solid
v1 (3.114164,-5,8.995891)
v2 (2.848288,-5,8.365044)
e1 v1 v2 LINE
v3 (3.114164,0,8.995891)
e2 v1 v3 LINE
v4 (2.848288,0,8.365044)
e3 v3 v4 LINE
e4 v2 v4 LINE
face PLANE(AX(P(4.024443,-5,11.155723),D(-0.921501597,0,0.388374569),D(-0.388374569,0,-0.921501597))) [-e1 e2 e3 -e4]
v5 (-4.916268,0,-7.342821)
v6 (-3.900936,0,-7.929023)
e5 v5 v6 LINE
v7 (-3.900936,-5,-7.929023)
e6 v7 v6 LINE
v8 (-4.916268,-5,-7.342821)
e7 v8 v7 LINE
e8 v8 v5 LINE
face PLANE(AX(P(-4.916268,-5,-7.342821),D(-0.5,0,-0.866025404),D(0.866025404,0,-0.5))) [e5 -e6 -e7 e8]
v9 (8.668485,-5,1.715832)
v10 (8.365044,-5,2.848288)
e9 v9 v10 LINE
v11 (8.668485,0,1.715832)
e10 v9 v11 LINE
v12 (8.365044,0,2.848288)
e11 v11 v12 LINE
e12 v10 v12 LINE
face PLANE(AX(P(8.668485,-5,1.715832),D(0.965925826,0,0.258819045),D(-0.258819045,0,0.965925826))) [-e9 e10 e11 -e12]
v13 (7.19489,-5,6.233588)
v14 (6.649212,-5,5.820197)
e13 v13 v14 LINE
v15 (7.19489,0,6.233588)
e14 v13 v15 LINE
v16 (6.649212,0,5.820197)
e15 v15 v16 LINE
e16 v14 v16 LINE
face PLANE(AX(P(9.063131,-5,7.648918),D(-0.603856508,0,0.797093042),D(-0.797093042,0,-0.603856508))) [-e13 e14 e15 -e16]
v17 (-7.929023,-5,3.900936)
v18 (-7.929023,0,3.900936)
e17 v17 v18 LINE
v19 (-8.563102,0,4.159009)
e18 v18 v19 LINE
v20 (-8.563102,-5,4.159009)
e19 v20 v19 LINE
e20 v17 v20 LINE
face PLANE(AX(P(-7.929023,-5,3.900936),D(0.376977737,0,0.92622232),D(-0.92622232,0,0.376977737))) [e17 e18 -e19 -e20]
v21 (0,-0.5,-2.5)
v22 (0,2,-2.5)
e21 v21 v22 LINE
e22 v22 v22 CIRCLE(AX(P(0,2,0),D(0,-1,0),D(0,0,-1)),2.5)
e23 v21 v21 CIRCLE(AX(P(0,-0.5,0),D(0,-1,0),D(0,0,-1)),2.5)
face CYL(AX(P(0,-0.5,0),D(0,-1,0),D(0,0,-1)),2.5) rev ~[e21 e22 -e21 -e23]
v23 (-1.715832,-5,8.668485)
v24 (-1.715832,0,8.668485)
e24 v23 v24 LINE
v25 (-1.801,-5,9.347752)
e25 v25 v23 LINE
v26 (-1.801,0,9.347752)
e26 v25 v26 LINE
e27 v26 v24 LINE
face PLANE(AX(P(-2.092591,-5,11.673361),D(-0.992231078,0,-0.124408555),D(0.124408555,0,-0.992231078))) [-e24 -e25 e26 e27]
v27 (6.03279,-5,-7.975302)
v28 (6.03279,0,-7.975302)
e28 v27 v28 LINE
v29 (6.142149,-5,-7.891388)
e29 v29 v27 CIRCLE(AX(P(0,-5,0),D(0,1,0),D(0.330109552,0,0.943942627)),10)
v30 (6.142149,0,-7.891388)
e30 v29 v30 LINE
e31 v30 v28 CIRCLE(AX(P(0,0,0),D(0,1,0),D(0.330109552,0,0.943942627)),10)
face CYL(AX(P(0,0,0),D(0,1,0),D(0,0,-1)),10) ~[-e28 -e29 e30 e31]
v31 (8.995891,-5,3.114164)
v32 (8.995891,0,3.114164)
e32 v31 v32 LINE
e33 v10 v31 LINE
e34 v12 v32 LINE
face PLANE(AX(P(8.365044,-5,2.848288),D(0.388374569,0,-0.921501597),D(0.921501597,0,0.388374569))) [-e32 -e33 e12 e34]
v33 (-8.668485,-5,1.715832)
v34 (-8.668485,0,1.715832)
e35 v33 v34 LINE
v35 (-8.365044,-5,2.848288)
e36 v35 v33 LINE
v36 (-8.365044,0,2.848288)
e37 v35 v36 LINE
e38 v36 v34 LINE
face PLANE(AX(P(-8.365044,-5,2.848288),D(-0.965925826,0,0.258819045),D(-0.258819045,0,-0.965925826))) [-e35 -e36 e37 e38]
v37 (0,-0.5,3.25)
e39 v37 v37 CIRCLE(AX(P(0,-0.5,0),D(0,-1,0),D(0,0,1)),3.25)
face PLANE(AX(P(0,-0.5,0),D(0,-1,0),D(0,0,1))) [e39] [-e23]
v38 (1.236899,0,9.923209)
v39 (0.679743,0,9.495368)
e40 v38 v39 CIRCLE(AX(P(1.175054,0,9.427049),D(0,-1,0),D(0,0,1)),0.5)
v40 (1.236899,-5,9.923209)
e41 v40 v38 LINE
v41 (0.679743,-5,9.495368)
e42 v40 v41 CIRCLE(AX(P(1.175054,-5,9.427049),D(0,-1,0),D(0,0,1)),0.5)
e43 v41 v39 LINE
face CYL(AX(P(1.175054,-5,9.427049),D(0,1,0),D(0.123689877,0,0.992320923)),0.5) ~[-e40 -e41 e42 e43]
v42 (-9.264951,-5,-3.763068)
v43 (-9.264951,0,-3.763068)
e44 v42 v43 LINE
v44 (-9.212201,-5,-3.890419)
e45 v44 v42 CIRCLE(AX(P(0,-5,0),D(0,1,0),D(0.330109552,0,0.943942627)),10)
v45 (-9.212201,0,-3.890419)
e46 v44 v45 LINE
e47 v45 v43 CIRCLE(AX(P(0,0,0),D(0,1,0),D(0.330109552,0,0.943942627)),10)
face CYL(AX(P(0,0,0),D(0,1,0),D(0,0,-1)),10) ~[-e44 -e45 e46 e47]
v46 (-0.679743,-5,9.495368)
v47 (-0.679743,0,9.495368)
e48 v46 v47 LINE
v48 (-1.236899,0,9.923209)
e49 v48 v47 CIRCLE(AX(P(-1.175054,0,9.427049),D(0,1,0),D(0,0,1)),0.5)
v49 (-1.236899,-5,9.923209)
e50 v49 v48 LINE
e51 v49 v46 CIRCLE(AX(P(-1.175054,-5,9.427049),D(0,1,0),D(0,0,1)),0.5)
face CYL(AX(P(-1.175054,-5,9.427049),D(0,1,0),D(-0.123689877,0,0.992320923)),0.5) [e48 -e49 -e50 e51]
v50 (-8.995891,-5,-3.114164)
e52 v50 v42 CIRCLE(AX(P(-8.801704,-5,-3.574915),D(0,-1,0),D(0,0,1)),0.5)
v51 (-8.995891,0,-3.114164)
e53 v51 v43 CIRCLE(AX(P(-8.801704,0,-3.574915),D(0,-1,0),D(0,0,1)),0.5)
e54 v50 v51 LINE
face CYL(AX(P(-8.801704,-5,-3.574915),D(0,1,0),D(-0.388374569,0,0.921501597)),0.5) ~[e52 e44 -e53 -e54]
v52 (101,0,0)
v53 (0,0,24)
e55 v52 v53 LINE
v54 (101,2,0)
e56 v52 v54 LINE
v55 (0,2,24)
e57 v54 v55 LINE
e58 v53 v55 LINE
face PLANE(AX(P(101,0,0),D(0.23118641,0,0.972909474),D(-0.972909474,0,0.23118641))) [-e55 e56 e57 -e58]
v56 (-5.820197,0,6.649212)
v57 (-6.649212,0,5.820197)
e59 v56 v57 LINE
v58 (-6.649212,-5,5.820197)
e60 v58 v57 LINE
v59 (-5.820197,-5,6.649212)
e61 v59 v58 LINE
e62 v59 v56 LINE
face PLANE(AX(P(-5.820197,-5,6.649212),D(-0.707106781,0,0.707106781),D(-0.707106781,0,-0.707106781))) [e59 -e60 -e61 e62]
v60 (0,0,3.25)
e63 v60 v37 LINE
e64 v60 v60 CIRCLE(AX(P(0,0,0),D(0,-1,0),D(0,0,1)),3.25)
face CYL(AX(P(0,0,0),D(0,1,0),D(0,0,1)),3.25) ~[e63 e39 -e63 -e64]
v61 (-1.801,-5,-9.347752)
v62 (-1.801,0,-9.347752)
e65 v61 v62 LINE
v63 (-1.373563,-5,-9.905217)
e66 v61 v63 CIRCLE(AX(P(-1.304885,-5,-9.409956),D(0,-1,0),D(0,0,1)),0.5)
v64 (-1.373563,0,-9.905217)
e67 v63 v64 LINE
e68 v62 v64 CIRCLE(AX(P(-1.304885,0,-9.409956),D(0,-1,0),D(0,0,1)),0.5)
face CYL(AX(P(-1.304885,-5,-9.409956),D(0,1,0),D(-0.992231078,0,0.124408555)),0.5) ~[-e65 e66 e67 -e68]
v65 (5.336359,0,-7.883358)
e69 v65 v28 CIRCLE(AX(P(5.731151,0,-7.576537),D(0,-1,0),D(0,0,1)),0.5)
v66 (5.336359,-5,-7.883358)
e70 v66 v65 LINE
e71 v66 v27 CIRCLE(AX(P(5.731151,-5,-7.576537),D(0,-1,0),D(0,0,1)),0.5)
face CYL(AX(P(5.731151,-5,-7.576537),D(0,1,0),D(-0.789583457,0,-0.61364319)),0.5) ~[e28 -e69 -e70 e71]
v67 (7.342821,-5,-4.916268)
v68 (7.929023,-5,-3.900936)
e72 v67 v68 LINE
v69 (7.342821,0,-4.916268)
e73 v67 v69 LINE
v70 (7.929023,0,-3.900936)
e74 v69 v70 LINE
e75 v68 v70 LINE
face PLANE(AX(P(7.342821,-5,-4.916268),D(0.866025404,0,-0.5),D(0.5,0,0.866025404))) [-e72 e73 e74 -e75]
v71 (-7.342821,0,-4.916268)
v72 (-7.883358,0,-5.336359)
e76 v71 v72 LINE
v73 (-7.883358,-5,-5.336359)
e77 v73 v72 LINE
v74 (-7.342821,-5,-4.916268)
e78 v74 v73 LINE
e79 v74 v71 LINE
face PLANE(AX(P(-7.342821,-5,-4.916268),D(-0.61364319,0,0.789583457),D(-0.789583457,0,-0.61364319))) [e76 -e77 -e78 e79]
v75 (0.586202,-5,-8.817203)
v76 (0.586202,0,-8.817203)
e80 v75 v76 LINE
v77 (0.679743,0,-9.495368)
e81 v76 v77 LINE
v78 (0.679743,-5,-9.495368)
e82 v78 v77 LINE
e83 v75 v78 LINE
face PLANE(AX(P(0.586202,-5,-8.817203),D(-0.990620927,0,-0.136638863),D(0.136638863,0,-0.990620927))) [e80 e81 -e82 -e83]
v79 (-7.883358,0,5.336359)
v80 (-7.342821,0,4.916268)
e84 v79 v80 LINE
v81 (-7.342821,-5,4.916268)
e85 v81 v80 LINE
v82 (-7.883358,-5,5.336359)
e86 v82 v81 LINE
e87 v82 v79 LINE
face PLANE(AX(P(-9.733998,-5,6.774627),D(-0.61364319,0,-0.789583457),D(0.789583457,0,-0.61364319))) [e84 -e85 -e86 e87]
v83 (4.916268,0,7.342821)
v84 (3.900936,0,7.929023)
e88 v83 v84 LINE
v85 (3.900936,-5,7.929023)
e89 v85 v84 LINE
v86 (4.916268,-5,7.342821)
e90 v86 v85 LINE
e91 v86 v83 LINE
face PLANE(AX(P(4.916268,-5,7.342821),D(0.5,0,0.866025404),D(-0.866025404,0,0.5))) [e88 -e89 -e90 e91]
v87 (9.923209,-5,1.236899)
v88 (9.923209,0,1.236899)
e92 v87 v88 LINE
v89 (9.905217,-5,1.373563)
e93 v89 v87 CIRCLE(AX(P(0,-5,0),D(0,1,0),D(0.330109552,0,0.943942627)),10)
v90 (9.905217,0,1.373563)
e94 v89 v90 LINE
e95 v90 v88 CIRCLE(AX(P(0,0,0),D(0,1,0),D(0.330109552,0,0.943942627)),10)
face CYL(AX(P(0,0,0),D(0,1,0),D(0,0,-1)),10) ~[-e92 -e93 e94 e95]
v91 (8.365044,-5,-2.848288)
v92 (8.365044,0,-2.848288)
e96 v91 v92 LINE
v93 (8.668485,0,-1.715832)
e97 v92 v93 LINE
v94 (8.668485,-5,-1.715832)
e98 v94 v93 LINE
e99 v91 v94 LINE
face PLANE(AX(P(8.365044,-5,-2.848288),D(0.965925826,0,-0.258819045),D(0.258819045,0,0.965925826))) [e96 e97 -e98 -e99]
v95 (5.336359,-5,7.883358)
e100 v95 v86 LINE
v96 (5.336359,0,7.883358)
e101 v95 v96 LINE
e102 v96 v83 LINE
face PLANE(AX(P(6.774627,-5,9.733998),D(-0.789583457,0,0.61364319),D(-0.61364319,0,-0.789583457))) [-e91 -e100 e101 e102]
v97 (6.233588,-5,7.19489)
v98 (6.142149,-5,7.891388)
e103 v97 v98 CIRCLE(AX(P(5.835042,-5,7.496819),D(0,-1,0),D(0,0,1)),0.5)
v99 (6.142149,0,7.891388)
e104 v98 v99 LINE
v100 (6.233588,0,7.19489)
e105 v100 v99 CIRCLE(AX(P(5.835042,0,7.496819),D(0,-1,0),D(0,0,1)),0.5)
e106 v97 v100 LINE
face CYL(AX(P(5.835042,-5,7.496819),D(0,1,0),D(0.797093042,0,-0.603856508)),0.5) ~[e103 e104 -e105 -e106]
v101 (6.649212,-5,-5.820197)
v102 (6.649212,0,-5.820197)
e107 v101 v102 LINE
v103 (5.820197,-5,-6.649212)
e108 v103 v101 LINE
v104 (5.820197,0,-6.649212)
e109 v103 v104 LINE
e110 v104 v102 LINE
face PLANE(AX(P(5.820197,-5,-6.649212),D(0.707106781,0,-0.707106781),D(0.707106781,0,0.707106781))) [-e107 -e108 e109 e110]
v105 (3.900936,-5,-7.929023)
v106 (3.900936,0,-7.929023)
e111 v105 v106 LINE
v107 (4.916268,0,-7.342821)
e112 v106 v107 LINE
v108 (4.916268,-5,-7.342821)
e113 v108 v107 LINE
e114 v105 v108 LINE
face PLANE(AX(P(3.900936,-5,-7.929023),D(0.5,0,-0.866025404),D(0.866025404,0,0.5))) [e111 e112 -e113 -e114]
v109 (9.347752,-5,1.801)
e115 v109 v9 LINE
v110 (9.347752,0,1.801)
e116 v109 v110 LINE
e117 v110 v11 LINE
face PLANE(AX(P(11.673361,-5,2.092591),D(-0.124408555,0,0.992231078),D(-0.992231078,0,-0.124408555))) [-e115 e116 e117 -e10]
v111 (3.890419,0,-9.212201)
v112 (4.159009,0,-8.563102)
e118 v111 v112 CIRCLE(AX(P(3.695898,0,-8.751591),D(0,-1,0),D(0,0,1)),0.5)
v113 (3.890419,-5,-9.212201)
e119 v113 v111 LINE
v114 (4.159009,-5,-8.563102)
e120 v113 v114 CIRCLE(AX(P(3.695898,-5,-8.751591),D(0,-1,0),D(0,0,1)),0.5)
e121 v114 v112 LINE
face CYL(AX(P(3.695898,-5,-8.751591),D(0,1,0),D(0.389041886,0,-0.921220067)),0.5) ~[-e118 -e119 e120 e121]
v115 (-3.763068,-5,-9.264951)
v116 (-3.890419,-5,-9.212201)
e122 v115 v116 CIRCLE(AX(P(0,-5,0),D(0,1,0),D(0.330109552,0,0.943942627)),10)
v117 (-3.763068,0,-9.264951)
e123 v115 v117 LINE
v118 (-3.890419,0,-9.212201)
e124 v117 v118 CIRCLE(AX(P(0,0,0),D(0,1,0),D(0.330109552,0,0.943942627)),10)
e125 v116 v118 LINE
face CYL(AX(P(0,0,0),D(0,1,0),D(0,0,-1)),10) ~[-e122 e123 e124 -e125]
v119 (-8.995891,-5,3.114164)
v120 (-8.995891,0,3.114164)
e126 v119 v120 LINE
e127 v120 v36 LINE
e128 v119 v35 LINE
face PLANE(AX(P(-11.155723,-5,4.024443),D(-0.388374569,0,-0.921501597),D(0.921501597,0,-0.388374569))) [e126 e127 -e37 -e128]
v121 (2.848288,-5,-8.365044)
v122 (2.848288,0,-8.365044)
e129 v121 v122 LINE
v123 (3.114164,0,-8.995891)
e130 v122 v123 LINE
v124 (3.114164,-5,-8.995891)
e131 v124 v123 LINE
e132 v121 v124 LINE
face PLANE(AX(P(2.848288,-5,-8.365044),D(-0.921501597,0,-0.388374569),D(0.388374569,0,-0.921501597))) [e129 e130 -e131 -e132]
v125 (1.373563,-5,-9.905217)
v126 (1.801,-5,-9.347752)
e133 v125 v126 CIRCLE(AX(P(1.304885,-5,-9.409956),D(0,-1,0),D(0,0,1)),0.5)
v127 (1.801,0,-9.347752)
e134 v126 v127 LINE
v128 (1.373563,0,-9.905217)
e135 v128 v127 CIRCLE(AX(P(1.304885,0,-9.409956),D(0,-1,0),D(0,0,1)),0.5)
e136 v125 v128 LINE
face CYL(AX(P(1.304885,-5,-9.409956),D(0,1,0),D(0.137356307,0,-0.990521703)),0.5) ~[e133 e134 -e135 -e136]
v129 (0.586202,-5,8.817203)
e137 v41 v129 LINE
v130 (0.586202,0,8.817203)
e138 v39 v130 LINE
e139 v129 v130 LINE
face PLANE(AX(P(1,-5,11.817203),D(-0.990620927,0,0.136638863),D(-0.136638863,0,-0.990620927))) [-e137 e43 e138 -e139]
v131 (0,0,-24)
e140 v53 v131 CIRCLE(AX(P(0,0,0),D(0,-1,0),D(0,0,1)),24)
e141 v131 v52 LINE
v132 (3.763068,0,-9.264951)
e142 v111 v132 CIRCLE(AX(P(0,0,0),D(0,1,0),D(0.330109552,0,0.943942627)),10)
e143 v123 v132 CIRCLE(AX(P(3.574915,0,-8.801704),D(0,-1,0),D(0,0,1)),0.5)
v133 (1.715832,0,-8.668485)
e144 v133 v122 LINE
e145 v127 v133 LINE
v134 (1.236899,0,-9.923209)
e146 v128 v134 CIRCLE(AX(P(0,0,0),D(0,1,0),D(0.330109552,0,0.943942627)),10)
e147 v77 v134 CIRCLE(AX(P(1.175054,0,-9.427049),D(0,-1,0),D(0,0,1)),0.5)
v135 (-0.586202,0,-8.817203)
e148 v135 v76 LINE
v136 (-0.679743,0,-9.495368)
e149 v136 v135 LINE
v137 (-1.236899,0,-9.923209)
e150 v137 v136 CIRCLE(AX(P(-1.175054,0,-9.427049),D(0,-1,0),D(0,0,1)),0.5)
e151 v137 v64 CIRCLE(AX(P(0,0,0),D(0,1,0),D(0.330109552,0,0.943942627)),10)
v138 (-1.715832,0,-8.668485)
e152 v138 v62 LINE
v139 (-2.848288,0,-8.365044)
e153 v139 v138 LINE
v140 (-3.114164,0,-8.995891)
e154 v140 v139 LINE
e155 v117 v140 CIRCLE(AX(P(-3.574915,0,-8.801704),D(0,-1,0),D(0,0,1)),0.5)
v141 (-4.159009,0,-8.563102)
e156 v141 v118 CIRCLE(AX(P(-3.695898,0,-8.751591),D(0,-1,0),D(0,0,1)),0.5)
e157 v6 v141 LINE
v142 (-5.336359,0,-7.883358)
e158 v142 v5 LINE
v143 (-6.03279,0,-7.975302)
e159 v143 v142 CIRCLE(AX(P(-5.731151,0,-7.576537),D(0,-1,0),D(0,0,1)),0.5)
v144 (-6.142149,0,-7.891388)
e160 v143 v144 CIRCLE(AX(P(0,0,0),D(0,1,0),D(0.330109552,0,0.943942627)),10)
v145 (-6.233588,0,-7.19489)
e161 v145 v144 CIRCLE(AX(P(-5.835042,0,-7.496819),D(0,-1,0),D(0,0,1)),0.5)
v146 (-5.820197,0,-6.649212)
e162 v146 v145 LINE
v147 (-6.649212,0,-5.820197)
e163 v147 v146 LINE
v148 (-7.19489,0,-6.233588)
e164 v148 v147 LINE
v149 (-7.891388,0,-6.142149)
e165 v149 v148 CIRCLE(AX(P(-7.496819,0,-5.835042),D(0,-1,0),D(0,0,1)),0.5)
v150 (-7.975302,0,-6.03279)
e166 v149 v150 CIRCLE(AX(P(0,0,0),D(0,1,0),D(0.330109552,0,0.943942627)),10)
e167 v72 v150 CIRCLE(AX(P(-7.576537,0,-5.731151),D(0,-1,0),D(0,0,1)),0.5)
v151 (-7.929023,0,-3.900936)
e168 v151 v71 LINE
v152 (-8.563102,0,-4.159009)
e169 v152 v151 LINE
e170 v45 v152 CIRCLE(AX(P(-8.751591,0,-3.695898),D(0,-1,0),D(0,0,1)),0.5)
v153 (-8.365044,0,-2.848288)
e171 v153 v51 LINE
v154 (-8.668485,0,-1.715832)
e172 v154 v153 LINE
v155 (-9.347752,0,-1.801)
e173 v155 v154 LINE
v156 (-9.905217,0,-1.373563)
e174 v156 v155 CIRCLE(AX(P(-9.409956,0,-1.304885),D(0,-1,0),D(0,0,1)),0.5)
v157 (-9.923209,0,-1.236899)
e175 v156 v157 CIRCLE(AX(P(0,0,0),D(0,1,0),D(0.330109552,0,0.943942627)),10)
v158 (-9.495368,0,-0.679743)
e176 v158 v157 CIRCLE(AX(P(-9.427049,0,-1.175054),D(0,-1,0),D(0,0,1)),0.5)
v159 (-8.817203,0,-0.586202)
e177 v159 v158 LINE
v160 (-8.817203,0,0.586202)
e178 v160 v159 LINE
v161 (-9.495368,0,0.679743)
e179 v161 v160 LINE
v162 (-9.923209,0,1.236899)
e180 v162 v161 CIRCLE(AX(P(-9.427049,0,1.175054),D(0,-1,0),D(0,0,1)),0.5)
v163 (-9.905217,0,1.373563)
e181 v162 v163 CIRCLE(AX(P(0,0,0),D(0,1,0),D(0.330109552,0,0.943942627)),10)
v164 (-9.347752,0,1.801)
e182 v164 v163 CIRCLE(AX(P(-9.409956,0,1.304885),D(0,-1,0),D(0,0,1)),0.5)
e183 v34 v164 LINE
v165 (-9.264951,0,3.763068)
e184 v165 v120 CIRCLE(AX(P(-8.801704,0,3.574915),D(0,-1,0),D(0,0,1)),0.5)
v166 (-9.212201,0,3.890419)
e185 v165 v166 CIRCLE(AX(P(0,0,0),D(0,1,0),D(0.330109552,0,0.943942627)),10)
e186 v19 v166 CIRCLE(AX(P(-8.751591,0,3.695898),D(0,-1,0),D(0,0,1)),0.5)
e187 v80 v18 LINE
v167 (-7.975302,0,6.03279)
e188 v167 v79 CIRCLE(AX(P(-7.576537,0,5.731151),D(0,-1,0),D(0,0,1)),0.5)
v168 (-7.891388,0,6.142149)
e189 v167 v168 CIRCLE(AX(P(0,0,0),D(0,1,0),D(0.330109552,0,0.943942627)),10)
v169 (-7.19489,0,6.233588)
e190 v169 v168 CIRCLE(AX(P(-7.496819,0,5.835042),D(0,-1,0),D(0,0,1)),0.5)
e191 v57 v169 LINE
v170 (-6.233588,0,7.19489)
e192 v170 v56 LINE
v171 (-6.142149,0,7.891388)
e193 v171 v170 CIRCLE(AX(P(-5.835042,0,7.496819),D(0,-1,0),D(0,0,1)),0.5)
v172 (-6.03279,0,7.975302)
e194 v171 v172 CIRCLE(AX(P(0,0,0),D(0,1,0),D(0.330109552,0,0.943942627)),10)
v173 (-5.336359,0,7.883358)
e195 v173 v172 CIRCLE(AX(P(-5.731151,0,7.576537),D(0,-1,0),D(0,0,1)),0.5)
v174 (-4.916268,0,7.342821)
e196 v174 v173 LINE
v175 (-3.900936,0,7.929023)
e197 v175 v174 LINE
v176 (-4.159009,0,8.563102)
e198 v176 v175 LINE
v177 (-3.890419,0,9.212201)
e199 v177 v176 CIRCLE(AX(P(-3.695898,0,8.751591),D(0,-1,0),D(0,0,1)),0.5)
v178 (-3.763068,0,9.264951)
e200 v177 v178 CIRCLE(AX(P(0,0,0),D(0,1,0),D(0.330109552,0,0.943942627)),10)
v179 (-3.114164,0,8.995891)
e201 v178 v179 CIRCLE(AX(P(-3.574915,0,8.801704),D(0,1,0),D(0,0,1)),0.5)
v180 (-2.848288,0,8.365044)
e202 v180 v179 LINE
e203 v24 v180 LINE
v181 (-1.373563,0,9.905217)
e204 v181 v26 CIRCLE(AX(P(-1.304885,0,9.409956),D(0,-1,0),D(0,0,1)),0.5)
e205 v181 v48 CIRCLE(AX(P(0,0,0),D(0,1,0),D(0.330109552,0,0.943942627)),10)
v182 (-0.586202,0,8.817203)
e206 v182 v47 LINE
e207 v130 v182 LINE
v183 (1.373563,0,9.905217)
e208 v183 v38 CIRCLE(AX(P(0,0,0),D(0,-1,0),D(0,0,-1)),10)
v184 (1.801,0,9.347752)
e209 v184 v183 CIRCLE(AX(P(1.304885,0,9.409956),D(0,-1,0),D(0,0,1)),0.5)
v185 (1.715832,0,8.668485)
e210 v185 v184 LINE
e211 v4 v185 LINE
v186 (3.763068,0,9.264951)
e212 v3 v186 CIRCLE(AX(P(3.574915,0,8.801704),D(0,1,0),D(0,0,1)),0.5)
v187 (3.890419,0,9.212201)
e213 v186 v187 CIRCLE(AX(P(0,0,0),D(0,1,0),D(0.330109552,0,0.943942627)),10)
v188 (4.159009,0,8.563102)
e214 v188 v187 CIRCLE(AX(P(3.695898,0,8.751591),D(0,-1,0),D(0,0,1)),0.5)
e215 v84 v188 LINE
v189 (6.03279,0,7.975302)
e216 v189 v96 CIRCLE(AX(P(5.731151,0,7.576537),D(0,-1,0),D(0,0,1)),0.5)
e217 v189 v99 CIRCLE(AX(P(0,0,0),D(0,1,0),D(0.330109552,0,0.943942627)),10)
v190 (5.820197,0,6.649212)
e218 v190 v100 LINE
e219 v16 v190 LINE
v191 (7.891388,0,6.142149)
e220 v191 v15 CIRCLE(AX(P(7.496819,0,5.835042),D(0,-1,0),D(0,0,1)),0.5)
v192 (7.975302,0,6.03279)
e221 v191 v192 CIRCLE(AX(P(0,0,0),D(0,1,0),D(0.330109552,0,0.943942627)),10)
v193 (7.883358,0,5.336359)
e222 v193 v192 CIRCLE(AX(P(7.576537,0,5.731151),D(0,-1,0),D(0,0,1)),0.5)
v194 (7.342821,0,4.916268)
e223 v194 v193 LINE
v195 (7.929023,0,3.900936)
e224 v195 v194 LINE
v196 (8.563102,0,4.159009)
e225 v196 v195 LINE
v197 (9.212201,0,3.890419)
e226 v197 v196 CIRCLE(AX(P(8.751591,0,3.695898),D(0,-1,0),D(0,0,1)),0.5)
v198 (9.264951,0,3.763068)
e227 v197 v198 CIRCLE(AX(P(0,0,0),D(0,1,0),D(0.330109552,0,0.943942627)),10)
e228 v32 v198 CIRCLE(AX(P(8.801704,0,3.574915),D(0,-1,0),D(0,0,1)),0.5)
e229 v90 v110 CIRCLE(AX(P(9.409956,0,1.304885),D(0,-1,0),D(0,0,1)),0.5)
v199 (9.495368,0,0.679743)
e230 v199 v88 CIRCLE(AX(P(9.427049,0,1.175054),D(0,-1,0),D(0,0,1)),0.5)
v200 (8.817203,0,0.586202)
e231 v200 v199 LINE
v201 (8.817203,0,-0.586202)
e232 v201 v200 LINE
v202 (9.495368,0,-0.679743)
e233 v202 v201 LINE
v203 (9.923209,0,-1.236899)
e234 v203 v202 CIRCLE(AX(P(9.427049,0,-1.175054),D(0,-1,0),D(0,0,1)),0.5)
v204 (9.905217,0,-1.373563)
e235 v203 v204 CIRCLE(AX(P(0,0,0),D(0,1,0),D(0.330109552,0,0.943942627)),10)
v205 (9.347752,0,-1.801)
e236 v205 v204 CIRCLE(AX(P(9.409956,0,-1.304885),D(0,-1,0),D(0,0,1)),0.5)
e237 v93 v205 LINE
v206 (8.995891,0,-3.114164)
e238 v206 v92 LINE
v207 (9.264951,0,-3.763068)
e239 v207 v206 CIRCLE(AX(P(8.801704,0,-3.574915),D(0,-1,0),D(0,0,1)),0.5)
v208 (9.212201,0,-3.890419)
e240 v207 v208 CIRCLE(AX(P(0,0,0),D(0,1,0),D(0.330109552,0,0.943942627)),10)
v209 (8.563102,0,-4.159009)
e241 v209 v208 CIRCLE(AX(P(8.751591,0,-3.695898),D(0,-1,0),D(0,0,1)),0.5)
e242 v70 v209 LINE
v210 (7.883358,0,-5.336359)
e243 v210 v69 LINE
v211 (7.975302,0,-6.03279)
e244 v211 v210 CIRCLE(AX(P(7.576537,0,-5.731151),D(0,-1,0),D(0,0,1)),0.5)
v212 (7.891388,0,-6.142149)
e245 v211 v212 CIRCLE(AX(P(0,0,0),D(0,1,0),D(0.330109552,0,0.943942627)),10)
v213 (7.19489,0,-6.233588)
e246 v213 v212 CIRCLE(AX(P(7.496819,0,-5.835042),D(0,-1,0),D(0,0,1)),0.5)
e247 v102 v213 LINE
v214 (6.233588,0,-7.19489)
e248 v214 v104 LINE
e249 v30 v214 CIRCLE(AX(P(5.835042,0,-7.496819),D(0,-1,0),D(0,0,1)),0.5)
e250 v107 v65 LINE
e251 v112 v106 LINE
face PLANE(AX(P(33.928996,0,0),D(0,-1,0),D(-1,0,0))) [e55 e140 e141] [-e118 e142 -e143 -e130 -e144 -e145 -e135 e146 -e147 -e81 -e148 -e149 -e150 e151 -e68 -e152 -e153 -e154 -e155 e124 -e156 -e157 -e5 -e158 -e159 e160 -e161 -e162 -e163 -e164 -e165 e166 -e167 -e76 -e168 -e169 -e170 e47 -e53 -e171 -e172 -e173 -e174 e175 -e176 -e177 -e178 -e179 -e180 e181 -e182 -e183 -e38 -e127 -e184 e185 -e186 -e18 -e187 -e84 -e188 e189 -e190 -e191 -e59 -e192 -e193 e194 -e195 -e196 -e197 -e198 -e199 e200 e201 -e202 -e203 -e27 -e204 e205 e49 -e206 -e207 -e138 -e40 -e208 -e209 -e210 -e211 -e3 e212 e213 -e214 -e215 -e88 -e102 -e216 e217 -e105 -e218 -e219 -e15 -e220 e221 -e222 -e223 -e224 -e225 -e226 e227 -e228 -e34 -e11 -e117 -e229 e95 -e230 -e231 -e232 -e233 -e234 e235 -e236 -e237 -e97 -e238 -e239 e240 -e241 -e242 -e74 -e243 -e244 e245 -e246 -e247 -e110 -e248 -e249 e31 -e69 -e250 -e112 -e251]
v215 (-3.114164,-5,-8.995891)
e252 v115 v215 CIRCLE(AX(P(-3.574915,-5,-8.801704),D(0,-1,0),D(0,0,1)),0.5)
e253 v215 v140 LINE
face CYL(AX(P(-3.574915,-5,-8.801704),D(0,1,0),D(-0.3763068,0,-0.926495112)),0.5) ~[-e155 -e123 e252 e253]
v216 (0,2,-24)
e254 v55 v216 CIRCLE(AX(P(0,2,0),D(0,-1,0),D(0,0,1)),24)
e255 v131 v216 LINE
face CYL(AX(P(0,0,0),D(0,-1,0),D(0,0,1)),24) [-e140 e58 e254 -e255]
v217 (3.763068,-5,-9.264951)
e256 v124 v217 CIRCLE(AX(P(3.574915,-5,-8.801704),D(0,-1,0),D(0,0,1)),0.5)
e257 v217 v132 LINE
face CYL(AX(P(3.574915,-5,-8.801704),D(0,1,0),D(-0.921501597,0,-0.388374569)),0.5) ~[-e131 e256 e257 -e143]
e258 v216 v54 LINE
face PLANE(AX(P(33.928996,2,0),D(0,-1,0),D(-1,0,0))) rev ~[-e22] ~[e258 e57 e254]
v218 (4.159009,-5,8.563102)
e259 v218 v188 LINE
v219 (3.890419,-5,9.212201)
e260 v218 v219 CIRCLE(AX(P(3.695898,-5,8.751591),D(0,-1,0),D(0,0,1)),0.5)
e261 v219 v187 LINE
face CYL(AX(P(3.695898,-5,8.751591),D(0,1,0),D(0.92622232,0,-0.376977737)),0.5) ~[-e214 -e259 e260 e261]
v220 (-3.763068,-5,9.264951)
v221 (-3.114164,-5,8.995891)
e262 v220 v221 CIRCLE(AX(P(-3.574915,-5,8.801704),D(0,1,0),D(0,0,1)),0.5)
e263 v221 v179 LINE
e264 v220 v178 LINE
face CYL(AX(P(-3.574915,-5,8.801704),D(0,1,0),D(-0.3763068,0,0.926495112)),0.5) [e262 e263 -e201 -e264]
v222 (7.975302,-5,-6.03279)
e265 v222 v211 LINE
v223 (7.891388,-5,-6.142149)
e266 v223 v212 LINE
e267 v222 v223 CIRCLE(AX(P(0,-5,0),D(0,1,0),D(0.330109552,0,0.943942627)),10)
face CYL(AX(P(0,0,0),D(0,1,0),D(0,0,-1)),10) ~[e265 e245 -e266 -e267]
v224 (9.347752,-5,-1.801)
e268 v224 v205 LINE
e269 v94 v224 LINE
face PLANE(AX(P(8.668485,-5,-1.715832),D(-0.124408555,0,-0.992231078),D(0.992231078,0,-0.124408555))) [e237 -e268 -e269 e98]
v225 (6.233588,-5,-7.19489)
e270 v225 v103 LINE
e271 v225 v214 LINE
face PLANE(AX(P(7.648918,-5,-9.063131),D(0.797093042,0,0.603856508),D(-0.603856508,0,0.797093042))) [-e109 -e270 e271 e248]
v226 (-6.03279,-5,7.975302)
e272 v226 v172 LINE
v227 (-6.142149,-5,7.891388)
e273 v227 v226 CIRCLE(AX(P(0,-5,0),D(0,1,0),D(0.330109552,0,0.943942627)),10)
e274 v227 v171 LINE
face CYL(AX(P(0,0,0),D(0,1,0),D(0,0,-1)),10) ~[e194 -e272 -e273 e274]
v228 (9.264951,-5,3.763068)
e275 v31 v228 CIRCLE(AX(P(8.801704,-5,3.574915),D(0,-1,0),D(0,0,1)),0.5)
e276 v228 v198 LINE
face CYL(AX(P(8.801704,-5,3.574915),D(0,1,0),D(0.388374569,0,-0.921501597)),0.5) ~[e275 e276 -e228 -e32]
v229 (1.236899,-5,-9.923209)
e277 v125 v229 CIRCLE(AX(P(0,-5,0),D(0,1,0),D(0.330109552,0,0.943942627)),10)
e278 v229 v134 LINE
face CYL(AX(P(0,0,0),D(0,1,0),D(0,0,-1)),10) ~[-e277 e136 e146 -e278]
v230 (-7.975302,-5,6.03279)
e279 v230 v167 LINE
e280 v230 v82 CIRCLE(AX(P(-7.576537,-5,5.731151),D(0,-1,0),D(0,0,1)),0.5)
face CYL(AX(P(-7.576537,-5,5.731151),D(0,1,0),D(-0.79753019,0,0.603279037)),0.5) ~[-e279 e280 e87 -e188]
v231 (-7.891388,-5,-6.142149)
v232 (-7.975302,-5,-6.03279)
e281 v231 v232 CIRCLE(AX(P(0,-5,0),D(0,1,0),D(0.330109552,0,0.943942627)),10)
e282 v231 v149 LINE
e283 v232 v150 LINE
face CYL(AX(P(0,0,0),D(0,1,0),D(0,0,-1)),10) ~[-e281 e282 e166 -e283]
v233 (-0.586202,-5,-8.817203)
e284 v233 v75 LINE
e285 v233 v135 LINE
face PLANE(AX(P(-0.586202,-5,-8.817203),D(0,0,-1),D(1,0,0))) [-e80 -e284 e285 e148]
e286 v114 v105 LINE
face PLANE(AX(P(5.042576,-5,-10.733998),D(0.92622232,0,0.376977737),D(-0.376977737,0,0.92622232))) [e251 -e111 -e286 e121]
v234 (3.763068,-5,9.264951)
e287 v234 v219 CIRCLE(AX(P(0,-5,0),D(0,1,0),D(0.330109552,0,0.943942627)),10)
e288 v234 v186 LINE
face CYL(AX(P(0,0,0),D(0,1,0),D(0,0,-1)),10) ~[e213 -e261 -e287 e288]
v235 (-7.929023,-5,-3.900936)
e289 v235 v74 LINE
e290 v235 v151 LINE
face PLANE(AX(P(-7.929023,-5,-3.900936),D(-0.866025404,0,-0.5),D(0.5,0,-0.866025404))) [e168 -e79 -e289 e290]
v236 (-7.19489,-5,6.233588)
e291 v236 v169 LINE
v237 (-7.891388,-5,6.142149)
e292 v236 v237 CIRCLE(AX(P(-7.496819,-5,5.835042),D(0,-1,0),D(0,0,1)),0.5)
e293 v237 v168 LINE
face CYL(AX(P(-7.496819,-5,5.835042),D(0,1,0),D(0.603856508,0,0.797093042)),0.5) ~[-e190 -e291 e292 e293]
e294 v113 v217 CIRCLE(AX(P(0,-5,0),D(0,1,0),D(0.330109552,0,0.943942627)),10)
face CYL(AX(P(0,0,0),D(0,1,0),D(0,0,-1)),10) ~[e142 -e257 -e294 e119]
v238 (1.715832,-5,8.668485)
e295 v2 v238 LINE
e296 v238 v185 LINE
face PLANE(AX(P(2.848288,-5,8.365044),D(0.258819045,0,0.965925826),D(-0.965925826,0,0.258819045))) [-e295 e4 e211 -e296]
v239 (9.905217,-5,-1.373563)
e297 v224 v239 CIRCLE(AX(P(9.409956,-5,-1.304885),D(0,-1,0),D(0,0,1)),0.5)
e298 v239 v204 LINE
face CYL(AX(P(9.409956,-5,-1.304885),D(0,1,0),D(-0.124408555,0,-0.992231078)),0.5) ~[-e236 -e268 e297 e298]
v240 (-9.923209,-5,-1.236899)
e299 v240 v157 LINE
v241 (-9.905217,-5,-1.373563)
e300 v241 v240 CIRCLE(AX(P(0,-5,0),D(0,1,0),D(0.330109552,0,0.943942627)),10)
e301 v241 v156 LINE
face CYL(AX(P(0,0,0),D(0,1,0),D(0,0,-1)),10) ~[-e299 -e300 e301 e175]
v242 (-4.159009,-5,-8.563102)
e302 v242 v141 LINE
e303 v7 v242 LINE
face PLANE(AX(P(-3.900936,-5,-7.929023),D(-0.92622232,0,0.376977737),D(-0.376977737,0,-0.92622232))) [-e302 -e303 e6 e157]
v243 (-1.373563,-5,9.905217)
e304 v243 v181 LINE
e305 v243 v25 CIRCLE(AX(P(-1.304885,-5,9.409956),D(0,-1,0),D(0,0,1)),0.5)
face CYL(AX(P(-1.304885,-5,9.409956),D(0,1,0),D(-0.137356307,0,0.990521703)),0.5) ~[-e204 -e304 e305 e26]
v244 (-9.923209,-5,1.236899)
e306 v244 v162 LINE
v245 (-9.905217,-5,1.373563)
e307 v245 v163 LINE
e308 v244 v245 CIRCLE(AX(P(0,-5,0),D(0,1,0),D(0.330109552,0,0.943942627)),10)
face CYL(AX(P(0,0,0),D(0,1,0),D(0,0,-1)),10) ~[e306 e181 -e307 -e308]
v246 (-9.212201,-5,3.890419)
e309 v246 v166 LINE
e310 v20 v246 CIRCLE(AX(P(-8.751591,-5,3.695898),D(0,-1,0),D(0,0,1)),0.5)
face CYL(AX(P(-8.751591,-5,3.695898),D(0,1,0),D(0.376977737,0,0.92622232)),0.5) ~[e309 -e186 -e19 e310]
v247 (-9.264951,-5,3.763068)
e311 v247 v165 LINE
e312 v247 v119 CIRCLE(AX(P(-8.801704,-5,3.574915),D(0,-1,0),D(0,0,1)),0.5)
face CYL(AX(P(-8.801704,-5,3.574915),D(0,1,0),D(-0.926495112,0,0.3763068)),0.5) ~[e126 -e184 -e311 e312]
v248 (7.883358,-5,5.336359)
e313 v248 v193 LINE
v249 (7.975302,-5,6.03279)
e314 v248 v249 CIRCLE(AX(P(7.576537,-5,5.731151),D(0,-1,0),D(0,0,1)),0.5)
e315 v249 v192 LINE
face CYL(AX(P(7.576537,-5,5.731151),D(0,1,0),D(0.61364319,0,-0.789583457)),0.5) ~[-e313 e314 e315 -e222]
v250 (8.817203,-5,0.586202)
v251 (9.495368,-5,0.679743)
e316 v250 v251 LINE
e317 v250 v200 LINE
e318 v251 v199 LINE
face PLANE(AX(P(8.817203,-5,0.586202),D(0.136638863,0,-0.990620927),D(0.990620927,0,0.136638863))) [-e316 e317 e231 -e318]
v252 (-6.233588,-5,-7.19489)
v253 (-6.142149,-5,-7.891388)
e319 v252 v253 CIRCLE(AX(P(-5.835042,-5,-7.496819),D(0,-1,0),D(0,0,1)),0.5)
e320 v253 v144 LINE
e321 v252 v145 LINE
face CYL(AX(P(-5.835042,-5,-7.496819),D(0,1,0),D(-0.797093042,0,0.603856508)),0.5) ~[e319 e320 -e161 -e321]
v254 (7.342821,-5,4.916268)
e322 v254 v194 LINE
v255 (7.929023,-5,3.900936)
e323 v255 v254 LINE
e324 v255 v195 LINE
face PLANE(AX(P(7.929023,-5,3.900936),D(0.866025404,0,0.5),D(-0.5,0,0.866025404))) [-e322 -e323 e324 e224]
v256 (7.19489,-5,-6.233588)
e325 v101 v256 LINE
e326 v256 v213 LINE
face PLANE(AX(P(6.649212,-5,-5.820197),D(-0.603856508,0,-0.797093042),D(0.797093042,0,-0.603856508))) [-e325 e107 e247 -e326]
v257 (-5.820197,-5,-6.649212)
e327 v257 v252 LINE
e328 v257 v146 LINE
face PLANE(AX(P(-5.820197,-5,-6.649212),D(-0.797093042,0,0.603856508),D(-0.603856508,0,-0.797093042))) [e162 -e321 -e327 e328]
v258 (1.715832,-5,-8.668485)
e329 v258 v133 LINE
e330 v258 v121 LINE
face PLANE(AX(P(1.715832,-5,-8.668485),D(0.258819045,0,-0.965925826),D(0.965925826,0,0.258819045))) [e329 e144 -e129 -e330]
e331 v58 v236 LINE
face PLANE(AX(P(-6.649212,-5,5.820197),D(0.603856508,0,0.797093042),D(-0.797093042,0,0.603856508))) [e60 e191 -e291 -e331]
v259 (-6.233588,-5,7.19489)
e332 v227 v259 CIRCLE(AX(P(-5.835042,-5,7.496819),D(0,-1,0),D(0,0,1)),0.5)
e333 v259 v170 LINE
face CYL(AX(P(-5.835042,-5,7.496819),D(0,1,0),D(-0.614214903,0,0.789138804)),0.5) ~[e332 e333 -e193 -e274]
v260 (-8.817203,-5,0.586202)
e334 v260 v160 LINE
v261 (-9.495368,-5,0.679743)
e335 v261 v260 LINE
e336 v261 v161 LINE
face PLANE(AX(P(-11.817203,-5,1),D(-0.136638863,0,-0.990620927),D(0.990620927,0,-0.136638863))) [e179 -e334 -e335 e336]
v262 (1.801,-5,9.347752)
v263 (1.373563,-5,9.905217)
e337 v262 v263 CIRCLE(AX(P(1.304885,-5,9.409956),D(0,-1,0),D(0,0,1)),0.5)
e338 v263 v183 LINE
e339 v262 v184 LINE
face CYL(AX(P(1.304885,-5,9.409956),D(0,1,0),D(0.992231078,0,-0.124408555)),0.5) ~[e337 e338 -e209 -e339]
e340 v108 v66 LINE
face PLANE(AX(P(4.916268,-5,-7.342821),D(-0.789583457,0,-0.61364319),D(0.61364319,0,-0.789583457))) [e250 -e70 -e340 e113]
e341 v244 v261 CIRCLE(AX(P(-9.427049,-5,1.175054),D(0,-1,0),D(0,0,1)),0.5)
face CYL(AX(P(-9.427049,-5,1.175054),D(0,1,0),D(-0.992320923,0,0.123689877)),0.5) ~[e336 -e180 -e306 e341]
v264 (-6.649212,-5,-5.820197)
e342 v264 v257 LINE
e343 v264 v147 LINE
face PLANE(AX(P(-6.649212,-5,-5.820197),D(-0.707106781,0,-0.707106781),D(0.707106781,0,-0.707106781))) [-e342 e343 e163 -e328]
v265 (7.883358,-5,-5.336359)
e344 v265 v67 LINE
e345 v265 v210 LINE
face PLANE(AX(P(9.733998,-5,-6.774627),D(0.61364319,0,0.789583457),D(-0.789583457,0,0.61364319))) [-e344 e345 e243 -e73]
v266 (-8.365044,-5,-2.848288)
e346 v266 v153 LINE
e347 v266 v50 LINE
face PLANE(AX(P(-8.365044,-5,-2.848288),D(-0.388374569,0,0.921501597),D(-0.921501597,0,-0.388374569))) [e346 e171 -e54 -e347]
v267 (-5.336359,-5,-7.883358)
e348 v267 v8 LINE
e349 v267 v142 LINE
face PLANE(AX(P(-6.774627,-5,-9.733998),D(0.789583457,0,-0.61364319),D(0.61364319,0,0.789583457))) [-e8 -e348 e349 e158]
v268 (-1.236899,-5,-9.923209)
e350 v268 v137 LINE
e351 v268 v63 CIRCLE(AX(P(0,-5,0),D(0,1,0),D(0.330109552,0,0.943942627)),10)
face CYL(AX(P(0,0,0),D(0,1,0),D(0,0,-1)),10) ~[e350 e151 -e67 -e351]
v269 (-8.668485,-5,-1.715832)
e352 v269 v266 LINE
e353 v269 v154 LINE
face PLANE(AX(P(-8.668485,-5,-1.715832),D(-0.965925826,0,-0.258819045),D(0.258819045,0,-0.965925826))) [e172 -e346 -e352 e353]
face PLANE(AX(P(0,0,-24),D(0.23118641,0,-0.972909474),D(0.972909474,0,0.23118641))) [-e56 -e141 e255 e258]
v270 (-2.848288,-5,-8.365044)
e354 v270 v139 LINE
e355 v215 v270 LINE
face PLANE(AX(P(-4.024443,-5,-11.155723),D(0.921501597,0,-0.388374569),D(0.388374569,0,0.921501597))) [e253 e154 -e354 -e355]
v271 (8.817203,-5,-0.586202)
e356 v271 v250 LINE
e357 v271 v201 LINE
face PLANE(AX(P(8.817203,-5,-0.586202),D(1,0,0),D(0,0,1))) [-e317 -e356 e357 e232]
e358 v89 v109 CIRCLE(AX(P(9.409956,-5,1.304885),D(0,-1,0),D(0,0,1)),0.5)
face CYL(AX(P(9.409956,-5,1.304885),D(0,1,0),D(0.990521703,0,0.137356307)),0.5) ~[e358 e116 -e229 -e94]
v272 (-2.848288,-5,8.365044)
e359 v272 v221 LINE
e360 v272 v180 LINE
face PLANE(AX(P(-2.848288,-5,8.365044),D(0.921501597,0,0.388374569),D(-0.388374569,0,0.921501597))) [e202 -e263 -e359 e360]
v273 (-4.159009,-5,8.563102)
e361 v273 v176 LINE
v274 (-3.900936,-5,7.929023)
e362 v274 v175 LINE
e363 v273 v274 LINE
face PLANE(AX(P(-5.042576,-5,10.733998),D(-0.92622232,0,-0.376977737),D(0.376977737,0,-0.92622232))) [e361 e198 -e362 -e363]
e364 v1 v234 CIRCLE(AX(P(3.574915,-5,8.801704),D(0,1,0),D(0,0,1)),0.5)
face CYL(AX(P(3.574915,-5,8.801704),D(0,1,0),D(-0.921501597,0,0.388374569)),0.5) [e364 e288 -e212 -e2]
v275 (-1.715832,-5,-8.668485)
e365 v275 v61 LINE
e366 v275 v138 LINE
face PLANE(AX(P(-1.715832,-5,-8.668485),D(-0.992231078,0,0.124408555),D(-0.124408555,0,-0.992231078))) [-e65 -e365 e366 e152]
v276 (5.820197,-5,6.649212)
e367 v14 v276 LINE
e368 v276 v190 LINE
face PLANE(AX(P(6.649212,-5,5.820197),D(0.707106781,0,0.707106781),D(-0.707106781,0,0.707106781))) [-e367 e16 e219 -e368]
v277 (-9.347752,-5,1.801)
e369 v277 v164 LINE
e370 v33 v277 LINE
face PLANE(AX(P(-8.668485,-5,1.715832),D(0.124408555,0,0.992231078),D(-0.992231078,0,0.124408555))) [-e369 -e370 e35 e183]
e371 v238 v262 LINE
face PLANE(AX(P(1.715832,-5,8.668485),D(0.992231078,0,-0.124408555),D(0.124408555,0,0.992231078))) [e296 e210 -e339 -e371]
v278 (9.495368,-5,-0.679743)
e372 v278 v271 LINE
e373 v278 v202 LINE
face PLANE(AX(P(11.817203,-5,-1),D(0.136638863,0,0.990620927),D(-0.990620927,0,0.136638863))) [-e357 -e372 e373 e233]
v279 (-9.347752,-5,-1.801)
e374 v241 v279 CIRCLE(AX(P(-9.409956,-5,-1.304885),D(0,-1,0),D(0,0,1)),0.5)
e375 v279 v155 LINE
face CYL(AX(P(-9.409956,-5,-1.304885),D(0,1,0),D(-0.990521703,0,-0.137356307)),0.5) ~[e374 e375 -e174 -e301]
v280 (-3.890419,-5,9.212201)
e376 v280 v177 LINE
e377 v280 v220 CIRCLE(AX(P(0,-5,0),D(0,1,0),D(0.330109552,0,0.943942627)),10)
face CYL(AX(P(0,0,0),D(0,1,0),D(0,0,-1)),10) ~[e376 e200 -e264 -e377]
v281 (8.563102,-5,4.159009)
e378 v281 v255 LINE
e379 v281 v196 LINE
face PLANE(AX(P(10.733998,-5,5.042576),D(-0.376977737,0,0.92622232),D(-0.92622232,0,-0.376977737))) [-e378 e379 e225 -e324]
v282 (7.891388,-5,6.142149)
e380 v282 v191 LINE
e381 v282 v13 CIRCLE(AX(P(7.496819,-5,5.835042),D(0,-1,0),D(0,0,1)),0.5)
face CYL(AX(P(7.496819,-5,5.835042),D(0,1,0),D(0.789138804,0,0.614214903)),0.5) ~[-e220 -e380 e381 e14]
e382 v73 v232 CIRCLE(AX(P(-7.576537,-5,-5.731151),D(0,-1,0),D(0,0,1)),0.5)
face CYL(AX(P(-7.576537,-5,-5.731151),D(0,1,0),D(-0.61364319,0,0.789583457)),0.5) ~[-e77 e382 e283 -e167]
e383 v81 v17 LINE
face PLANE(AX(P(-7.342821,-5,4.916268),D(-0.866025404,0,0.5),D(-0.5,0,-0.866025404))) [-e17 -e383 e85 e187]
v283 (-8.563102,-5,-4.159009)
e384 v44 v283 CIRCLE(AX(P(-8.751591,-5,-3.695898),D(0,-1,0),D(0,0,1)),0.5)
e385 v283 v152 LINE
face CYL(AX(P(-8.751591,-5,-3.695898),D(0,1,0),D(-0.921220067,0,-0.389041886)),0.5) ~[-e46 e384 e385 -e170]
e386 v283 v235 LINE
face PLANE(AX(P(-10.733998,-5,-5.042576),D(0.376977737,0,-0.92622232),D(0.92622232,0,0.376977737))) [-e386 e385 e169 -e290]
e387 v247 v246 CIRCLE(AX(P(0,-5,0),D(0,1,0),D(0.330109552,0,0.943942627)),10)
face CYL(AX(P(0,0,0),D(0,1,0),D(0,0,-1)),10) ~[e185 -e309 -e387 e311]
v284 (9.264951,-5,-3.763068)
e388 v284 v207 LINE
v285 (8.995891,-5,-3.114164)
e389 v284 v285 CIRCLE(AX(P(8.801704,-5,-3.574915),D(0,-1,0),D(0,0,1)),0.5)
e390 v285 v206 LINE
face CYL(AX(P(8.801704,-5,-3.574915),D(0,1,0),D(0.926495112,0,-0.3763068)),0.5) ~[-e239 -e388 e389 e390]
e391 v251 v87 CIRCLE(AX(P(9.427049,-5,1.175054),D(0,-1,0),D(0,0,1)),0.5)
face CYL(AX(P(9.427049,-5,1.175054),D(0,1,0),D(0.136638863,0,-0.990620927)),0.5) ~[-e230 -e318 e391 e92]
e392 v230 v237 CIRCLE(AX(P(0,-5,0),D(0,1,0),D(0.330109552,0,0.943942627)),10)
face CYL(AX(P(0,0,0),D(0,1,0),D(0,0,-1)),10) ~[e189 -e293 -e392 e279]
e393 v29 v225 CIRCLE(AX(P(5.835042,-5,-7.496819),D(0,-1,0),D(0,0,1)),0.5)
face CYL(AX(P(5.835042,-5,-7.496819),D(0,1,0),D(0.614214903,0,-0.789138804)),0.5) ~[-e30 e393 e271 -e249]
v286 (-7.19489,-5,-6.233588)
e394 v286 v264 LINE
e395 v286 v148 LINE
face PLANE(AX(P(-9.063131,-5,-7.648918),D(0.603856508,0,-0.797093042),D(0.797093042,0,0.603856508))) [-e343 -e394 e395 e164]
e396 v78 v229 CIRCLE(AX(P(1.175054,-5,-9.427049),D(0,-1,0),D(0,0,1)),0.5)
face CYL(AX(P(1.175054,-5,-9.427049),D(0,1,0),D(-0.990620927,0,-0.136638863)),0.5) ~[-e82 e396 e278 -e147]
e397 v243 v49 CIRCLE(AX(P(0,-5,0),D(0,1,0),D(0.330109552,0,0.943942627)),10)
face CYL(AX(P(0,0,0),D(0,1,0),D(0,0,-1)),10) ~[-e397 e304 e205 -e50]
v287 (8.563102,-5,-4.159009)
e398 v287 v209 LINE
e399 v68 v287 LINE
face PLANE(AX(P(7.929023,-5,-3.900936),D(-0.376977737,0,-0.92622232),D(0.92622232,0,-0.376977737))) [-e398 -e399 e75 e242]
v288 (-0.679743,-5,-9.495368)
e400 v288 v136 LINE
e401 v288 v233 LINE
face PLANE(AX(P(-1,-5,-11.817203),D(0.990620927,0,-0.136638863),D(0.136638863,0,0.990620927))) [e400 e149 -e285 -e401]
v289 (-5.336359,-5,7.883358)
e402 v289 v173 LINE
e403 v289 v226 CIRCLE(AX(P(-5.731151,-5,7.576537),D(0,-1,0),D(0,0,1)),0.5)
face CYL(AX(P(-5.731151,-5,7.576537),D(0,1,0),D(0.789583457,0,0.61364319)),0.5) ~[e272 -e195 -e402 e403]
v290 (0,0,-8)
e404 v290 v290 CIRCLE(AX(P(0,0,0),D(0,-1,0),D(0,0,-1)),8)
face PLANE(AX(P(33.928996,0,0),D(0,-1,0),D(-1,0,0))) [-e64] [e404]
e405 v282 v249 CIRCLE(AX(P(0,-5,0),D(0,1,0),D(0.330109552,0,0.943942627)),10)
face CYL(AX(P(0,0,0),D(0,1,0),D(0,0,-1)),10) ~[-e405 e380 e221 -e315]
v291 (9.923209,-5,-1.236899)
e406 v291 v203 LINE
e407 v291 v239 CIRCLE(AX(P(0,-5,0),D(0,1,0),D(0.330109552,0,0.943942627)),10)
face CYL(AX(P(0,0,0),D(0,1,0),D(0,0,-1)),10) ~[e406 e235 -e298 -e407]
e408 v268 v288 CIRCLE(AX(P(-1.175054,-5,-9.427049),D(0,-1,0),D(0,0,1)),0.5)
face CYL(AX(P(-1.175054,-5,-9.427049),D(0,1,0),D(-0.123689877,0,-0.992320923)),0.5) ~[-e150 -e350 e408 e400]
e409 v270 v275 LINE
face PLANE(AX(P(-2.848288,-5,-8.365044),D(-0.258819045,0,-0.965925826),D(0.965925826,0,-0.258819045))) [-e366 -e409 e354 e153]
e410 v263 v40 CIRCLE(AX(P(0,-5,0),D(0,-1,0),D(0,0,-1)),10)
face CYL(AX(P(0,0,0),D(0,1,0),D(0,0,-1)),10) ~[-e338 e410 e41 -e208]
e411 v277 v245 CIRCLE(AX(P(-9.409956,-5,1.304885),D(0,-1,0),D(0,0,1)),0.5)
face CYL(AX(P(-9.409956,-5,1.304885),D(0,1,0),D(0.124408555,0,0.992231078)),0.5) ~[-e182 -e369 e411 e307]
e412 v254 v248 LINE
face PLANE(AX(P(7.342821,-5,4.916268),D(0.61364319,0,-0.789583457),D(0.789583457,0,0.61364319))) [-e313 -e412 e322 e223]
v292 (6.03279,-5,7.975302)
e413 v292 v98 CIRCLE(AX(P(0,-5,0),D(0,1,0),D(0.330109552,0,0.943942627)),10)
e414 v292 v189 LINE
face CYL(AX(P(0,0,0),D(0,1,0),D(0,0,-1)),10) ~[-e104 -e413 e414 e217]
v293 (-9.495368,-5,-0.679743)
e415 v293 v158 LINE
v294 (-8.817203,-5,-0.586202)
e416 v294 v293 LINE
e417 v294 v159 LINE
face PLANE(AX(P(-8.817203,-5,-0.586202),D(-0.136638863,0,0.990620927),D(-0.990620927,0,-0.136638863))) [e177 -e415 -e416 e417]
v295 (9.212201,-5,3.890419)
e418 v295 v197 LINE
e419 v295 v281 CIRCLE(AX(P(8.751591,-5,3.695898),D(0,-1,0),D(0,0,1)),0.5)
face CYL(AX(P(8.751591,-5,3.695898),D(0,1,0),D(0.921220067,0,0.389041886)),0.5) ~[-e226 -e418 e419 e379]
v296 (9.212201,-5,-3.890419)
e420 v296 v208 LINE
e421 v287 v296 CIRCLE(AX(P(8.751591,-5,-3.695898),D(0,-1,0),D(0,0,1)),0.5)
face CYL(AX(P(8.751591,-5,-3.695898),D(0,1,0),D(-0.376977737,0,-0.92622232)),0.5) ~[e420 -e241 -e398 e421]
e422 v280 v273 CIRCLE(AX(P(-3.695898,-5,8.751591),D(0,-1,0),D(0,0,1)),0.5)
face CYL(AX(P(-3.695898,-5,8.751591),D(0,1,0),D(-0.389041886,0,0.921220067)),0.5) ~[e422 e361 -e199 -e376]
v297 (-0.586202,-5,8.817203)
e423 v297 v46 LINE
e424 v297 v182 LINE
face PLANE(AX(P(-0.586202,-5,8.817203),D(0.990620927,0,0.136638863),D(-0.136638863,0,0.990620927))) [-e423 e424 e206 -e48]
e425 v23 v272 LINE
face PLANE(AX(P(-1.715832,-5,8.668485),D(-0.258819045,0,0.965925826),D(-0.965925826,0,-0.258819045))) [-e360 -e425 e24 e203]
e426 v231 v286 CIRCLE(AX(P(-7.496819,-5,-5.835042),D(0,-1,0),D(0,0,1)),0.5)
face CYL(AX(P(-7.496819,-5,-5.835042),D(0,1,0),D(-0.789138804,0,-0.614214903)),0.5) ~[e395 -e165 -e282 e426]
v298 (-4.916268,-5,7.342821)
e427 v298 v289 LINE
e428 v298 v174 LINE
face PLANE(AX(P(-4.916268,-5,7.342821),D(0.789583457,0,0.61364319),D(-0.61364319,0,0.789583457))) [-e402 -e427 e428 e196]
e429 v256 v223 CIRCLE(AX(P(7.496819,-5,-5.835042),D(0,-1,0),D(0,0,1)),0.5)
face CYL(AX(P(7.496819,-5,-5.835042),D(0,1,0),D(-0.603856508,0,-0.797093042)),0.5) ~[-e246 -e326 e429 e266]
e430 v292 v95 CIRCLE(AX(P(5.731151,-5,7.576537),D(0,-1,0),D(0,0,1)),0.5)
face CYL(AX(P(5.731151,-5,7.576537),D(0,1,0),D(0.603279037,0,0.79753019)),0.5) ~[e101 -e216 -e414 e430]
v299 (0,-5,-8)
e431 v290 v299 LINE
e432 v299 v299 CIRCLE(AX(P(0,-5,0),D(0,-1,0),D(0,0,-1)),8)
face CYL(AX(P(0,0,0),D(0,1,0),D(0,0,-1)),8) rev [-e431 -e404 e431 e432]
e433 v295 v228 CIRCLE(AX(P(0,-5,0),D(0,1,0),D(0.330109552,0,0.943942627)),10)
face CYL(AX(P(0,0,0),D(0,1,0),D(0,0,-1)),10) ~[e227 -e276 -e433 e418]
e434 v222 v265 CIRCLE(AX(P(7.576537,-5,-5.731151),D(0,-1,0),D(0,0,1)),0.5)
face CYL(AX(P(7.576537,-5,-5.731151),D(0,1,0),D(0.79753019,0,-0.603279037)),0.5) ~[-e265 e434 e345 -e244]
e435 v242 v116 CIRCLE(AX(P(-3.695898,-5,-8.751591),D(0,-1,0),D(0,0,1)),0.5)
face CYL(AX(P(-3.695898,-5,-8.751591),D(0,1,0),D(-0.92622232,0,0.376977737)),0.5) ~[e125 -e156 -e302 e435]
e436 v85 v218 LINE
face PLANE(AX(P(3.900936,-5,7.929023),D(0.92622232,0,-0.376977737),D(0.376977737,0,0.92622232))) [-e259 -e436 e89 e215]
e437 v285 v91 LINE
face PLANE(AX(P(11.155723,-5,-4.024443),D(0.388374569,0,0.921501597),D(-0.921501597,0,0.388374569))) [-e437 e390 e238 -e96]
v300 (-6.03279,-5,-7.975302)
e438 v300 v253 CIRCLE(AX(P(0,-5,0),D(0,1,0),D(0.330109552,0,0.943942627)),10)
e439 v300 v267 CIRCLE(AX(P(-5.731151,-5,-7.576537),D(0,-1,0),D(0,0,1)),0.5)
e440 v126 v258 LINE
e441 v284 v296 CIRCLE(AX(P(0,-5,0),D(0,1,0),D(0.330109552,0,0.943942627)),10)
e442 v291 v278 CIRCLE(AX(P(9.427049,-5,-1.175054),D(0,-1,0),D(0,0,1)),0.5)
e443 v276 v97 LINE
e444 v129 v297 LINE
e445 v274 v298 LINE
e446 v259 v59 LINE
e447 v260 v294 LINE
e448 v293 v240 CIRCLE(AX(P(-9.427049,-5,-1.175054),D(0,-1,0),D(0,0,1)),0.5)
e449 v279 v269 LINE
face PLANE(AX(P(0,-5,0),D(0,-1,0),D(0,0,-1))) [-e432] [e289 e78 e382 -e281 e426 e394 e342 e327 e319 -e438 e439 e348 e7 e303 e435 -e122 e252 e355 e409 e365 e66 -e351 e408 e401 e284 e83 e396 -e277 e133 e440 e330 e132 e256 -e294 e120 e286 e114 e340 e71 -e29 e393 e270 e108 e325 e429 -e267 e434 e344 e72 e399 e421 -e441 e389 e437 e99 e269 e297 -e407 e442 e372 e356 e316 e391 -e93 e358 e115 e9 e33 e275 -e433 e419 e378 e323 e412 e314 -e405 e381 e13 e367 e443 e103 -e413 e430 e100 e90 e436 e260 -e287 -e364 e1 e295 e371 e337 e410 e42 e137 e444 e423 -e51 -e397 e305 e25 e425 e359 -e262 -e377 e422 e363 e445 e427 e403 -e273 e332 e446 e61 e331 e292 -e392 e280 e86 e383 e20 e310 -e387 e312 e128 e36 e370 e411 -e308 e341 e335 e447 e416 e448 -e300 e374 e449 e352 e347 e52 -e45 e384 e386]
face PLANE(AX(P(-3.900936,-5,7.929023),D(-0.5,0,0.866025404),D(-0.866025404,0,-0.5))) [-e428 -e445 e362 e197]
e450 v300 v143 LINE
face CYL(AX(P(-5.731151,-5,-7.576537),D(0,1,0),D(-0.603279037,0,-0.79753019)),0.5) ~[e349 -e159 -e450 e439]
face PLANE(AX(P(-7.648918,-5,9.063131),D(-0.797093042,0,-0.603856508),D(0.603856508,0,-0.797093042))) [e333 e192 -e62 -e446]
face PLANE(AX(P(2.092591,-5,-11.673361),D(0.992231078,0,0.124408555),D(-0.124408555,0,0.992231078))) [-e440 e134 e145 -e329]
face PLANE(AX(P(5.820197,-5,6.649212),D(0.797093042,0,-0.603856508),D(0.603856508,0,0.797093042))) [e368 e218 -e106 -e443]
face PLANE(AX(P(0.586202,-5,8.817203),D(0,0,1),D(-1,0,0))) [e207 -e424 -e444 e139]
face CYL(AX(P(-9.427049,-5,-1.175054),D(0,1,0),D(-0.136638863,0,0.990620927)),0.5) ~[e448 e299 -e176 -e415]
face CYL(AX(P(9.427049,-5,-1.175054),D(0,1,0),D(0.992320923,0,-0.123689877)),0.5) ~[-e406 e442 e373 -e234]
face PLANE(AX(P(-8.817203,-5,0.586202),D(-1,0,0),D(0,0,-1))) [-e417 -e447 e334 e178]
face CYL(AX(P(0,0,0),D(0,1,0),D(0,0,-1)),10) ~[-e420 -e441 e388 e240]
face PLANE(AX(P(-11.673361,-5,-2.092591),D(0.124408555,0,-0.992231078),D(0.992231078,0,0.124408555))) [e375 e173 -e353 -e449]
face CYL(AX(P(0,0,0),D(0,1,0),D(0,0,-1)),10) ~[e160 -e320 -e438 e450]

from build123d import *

# Parameters (mm, degrees)
BOSS_EXTRUDE1_DEPTH      = 2
SKETCH2_R                = 10
SKETCH2_R_2              = 8
BOSS_EXTRUDE2_DEPTH      = 5
SKETCH4_R                = 3.25
BOSS_EXTRUDE3_DEPTH      = 0.5
SKETCH5_R                = 2.5
CUT_EXTRUDE2_DEPTH       = 2.5
CUT_EXTRUDE3_DEPTH       = 5
FILLET1_R                = 0.5
CIRPATTERN5_COUNT        = 24
FILLET1_OF_CIRPATTERN5_R = 0.5


with BuildPart() as part:
    # Sketch1 → Boss-Extrude1 (new body)
    with BuildSketch(Plane(origin=(0, 0, 0), x_dir=(1, 0, 0), z_dir=(0, 1, 0))):
        with BuildLine():
            Line((0, 24), (101, 0))
            Line((101, 0), (0, -24))
            ThreePointArc((0, -24), (-24, 0), (0, 24))
        make_face()
    extrude(amount=BOSS_EXTRUDE1_DEPTH)

    # Sketch2 → Boss-Extrude2 (add)
    with BuildSketch(Plane.XZ):
        with Locations(Location((0, 0, 0), (0, 0, 270))):
            Circle(SKETCH2_R)
        with Locations(Location((0, 0, 0), (0, 0, 270))):
            Circle(SKETCH2_R_2, mode=Mode.SUBTRACT)
    extrude(amount=BOSS_EXTRUDE2_DEPTH)

    # Sketch4 → Boss-Extrude3 (add)
    with BuildSketch(Plane(origin=(0, 0, 0), x_dir=(-1, 0, 0), z_dir=(0, -1, 0))):
        with Locations(Location((0, 0, 0), (0, 0, 270))):
            Circle(SKETCH4_R)
    extrude(amount=BOSS_EXTRUDE3_DEPTH)

    # Sketch5 → Cut-Extrude2 (cut)
    with BuildSketch(Plane.XZ.offset(0.5)):
        with Locations(Location((0, 0, 0), (0, 0, 270))):
            Circle(SKETCH5_R)
    extrude(amount=-CUT_EXTRUDE2_DEPTH, mode=Mode.SUBTRACT)

    # Sketch6 → Cut-Extrude3 (cut)
    with BuildSketch(Plane.XZ.offset(5)):
        Polygon((-1, 11.817203407), (1, 11.817203407), (0.586202372, 8.817203407), (-0.586202372, 8.817203407), align=None)
    cut_extrude3 = extrude(amount=-CUT_EXTRUDE3_DEPTH, mode=Mode.SUBTRACT)

    # Fillet1
    fillet1_edges = [part.edges().sort_by_distance(p)[0] for p in [
        (0.745510128, -2.5, 9.972172013),
        (-0.745510128, -2.5, 9.972172013),
    ]]
    fillet(fillet1_edges, radius=FILLET1_R)

    # CirPattern5: Cut-Extrude3 ×24 about axis
    cirpattern5_axis = Axis((0, 0, 0), (0, 1, 0))
    for i in range(1, CIRPATTERN5_COUNT):
        add(cut_extrude3.rotate(cirpattern5_axis, i * 360 / CIRPATTERN5_COUNT), mode=Mode.SUBTRACT)

    # Fillet1 of CirPattern5
    fillet1_of_cirpattern5_edges = [part.edges().sort_by_distance(p)[0] for p in [
        (3.301095525, -2.5, 9.439426272),
        (1.860880551, -2.5, 9.825330711),
        (5.631716716, -2.5, 8.26339923),
        (4.340455296, -2.5, 9.008909358),
        (7.57854572, -2.5, 6.524235186),
        (6.524235186, -2.5, 7.57854572),
        (9.008909358, -2.5, 4.340455296),
        (8.26339923, -2.5, 5.631716716),
        (9.825330711, -2.5, 1.860880551),
        (9.439426272, -2.5, 3.301095525),
        (9.972172013, -2.5, -0.745510128),
        (9.972172013, -2.5, 0.745510128),
        (9.439426272, -2.5, -3.301095525),
        (9.825330711, -2.5, -1.860880551),
        (8.26339923, -2.5, -5.631716716),
        (9.008909358, -2.5, -4.340455296),
        (6.524235186, -2.5, -7.57854572),
        (7.57854572, -2.5, -6.524235186),
        (4.340455296, -2.5, -9.008909358),
        (5.631716716, -2.5, -8.26339923),
        (1.860880551, -2.5, -9.825330711),
        (3.301095525, -2.5, -9.439426272),
        (-0.745510128, -2.5, -9.972172013),
        (0.745510128, -2.5, -9.972172013),
        (-3.301095525, -2.5, -9.439426272),
        (-1.860880551, -2.5, -9.825330711),
        (-5.631716716, -2.5, -8.26339923),
        (-4.340455296, -2.5, -9.008909358),
        (-7.57854572, -2.5, -6.524235186),
        (-6.524235186, -2.5, -7.57854572),
        (-9.008909358, -2.5, -4.340455296),
        (-8.26339923, -2.5, -5.631716716),
        (-9.825330711, -2.5, -1.860880551),
        (-9.439426272, -2.5, -3.301095525),
        (-9.972172013, -2.5, 0.745510128),
        (-9.972172013, -2.5, -0.745510128),
        (-9.439426272, -2.5, 3.301095525),
        (-9.825330711, -2.5, 1.860880551),
        (-8.26339923, -2.5, 5.631716716),
        (-9.008909358, -2.5, 4.340455296),
        (-6.524235186, -2.5, 7.57854572),
        (-7.57854572, -2.5, 6.524235186),
        (-4.340455296, -2.5, 9.008909358),
        (-5.631716716, -2.5, 8.26339923),
        (-1.860880551, -2.5, 9.825330711),
        (-3.301095525, -2.5, 9.439426272),
    ]]
    fillet(fillet1_of_cirpattern5_edges, radius=FILLET1_OF_CIRPATTERN5_R)


solid = part.part
